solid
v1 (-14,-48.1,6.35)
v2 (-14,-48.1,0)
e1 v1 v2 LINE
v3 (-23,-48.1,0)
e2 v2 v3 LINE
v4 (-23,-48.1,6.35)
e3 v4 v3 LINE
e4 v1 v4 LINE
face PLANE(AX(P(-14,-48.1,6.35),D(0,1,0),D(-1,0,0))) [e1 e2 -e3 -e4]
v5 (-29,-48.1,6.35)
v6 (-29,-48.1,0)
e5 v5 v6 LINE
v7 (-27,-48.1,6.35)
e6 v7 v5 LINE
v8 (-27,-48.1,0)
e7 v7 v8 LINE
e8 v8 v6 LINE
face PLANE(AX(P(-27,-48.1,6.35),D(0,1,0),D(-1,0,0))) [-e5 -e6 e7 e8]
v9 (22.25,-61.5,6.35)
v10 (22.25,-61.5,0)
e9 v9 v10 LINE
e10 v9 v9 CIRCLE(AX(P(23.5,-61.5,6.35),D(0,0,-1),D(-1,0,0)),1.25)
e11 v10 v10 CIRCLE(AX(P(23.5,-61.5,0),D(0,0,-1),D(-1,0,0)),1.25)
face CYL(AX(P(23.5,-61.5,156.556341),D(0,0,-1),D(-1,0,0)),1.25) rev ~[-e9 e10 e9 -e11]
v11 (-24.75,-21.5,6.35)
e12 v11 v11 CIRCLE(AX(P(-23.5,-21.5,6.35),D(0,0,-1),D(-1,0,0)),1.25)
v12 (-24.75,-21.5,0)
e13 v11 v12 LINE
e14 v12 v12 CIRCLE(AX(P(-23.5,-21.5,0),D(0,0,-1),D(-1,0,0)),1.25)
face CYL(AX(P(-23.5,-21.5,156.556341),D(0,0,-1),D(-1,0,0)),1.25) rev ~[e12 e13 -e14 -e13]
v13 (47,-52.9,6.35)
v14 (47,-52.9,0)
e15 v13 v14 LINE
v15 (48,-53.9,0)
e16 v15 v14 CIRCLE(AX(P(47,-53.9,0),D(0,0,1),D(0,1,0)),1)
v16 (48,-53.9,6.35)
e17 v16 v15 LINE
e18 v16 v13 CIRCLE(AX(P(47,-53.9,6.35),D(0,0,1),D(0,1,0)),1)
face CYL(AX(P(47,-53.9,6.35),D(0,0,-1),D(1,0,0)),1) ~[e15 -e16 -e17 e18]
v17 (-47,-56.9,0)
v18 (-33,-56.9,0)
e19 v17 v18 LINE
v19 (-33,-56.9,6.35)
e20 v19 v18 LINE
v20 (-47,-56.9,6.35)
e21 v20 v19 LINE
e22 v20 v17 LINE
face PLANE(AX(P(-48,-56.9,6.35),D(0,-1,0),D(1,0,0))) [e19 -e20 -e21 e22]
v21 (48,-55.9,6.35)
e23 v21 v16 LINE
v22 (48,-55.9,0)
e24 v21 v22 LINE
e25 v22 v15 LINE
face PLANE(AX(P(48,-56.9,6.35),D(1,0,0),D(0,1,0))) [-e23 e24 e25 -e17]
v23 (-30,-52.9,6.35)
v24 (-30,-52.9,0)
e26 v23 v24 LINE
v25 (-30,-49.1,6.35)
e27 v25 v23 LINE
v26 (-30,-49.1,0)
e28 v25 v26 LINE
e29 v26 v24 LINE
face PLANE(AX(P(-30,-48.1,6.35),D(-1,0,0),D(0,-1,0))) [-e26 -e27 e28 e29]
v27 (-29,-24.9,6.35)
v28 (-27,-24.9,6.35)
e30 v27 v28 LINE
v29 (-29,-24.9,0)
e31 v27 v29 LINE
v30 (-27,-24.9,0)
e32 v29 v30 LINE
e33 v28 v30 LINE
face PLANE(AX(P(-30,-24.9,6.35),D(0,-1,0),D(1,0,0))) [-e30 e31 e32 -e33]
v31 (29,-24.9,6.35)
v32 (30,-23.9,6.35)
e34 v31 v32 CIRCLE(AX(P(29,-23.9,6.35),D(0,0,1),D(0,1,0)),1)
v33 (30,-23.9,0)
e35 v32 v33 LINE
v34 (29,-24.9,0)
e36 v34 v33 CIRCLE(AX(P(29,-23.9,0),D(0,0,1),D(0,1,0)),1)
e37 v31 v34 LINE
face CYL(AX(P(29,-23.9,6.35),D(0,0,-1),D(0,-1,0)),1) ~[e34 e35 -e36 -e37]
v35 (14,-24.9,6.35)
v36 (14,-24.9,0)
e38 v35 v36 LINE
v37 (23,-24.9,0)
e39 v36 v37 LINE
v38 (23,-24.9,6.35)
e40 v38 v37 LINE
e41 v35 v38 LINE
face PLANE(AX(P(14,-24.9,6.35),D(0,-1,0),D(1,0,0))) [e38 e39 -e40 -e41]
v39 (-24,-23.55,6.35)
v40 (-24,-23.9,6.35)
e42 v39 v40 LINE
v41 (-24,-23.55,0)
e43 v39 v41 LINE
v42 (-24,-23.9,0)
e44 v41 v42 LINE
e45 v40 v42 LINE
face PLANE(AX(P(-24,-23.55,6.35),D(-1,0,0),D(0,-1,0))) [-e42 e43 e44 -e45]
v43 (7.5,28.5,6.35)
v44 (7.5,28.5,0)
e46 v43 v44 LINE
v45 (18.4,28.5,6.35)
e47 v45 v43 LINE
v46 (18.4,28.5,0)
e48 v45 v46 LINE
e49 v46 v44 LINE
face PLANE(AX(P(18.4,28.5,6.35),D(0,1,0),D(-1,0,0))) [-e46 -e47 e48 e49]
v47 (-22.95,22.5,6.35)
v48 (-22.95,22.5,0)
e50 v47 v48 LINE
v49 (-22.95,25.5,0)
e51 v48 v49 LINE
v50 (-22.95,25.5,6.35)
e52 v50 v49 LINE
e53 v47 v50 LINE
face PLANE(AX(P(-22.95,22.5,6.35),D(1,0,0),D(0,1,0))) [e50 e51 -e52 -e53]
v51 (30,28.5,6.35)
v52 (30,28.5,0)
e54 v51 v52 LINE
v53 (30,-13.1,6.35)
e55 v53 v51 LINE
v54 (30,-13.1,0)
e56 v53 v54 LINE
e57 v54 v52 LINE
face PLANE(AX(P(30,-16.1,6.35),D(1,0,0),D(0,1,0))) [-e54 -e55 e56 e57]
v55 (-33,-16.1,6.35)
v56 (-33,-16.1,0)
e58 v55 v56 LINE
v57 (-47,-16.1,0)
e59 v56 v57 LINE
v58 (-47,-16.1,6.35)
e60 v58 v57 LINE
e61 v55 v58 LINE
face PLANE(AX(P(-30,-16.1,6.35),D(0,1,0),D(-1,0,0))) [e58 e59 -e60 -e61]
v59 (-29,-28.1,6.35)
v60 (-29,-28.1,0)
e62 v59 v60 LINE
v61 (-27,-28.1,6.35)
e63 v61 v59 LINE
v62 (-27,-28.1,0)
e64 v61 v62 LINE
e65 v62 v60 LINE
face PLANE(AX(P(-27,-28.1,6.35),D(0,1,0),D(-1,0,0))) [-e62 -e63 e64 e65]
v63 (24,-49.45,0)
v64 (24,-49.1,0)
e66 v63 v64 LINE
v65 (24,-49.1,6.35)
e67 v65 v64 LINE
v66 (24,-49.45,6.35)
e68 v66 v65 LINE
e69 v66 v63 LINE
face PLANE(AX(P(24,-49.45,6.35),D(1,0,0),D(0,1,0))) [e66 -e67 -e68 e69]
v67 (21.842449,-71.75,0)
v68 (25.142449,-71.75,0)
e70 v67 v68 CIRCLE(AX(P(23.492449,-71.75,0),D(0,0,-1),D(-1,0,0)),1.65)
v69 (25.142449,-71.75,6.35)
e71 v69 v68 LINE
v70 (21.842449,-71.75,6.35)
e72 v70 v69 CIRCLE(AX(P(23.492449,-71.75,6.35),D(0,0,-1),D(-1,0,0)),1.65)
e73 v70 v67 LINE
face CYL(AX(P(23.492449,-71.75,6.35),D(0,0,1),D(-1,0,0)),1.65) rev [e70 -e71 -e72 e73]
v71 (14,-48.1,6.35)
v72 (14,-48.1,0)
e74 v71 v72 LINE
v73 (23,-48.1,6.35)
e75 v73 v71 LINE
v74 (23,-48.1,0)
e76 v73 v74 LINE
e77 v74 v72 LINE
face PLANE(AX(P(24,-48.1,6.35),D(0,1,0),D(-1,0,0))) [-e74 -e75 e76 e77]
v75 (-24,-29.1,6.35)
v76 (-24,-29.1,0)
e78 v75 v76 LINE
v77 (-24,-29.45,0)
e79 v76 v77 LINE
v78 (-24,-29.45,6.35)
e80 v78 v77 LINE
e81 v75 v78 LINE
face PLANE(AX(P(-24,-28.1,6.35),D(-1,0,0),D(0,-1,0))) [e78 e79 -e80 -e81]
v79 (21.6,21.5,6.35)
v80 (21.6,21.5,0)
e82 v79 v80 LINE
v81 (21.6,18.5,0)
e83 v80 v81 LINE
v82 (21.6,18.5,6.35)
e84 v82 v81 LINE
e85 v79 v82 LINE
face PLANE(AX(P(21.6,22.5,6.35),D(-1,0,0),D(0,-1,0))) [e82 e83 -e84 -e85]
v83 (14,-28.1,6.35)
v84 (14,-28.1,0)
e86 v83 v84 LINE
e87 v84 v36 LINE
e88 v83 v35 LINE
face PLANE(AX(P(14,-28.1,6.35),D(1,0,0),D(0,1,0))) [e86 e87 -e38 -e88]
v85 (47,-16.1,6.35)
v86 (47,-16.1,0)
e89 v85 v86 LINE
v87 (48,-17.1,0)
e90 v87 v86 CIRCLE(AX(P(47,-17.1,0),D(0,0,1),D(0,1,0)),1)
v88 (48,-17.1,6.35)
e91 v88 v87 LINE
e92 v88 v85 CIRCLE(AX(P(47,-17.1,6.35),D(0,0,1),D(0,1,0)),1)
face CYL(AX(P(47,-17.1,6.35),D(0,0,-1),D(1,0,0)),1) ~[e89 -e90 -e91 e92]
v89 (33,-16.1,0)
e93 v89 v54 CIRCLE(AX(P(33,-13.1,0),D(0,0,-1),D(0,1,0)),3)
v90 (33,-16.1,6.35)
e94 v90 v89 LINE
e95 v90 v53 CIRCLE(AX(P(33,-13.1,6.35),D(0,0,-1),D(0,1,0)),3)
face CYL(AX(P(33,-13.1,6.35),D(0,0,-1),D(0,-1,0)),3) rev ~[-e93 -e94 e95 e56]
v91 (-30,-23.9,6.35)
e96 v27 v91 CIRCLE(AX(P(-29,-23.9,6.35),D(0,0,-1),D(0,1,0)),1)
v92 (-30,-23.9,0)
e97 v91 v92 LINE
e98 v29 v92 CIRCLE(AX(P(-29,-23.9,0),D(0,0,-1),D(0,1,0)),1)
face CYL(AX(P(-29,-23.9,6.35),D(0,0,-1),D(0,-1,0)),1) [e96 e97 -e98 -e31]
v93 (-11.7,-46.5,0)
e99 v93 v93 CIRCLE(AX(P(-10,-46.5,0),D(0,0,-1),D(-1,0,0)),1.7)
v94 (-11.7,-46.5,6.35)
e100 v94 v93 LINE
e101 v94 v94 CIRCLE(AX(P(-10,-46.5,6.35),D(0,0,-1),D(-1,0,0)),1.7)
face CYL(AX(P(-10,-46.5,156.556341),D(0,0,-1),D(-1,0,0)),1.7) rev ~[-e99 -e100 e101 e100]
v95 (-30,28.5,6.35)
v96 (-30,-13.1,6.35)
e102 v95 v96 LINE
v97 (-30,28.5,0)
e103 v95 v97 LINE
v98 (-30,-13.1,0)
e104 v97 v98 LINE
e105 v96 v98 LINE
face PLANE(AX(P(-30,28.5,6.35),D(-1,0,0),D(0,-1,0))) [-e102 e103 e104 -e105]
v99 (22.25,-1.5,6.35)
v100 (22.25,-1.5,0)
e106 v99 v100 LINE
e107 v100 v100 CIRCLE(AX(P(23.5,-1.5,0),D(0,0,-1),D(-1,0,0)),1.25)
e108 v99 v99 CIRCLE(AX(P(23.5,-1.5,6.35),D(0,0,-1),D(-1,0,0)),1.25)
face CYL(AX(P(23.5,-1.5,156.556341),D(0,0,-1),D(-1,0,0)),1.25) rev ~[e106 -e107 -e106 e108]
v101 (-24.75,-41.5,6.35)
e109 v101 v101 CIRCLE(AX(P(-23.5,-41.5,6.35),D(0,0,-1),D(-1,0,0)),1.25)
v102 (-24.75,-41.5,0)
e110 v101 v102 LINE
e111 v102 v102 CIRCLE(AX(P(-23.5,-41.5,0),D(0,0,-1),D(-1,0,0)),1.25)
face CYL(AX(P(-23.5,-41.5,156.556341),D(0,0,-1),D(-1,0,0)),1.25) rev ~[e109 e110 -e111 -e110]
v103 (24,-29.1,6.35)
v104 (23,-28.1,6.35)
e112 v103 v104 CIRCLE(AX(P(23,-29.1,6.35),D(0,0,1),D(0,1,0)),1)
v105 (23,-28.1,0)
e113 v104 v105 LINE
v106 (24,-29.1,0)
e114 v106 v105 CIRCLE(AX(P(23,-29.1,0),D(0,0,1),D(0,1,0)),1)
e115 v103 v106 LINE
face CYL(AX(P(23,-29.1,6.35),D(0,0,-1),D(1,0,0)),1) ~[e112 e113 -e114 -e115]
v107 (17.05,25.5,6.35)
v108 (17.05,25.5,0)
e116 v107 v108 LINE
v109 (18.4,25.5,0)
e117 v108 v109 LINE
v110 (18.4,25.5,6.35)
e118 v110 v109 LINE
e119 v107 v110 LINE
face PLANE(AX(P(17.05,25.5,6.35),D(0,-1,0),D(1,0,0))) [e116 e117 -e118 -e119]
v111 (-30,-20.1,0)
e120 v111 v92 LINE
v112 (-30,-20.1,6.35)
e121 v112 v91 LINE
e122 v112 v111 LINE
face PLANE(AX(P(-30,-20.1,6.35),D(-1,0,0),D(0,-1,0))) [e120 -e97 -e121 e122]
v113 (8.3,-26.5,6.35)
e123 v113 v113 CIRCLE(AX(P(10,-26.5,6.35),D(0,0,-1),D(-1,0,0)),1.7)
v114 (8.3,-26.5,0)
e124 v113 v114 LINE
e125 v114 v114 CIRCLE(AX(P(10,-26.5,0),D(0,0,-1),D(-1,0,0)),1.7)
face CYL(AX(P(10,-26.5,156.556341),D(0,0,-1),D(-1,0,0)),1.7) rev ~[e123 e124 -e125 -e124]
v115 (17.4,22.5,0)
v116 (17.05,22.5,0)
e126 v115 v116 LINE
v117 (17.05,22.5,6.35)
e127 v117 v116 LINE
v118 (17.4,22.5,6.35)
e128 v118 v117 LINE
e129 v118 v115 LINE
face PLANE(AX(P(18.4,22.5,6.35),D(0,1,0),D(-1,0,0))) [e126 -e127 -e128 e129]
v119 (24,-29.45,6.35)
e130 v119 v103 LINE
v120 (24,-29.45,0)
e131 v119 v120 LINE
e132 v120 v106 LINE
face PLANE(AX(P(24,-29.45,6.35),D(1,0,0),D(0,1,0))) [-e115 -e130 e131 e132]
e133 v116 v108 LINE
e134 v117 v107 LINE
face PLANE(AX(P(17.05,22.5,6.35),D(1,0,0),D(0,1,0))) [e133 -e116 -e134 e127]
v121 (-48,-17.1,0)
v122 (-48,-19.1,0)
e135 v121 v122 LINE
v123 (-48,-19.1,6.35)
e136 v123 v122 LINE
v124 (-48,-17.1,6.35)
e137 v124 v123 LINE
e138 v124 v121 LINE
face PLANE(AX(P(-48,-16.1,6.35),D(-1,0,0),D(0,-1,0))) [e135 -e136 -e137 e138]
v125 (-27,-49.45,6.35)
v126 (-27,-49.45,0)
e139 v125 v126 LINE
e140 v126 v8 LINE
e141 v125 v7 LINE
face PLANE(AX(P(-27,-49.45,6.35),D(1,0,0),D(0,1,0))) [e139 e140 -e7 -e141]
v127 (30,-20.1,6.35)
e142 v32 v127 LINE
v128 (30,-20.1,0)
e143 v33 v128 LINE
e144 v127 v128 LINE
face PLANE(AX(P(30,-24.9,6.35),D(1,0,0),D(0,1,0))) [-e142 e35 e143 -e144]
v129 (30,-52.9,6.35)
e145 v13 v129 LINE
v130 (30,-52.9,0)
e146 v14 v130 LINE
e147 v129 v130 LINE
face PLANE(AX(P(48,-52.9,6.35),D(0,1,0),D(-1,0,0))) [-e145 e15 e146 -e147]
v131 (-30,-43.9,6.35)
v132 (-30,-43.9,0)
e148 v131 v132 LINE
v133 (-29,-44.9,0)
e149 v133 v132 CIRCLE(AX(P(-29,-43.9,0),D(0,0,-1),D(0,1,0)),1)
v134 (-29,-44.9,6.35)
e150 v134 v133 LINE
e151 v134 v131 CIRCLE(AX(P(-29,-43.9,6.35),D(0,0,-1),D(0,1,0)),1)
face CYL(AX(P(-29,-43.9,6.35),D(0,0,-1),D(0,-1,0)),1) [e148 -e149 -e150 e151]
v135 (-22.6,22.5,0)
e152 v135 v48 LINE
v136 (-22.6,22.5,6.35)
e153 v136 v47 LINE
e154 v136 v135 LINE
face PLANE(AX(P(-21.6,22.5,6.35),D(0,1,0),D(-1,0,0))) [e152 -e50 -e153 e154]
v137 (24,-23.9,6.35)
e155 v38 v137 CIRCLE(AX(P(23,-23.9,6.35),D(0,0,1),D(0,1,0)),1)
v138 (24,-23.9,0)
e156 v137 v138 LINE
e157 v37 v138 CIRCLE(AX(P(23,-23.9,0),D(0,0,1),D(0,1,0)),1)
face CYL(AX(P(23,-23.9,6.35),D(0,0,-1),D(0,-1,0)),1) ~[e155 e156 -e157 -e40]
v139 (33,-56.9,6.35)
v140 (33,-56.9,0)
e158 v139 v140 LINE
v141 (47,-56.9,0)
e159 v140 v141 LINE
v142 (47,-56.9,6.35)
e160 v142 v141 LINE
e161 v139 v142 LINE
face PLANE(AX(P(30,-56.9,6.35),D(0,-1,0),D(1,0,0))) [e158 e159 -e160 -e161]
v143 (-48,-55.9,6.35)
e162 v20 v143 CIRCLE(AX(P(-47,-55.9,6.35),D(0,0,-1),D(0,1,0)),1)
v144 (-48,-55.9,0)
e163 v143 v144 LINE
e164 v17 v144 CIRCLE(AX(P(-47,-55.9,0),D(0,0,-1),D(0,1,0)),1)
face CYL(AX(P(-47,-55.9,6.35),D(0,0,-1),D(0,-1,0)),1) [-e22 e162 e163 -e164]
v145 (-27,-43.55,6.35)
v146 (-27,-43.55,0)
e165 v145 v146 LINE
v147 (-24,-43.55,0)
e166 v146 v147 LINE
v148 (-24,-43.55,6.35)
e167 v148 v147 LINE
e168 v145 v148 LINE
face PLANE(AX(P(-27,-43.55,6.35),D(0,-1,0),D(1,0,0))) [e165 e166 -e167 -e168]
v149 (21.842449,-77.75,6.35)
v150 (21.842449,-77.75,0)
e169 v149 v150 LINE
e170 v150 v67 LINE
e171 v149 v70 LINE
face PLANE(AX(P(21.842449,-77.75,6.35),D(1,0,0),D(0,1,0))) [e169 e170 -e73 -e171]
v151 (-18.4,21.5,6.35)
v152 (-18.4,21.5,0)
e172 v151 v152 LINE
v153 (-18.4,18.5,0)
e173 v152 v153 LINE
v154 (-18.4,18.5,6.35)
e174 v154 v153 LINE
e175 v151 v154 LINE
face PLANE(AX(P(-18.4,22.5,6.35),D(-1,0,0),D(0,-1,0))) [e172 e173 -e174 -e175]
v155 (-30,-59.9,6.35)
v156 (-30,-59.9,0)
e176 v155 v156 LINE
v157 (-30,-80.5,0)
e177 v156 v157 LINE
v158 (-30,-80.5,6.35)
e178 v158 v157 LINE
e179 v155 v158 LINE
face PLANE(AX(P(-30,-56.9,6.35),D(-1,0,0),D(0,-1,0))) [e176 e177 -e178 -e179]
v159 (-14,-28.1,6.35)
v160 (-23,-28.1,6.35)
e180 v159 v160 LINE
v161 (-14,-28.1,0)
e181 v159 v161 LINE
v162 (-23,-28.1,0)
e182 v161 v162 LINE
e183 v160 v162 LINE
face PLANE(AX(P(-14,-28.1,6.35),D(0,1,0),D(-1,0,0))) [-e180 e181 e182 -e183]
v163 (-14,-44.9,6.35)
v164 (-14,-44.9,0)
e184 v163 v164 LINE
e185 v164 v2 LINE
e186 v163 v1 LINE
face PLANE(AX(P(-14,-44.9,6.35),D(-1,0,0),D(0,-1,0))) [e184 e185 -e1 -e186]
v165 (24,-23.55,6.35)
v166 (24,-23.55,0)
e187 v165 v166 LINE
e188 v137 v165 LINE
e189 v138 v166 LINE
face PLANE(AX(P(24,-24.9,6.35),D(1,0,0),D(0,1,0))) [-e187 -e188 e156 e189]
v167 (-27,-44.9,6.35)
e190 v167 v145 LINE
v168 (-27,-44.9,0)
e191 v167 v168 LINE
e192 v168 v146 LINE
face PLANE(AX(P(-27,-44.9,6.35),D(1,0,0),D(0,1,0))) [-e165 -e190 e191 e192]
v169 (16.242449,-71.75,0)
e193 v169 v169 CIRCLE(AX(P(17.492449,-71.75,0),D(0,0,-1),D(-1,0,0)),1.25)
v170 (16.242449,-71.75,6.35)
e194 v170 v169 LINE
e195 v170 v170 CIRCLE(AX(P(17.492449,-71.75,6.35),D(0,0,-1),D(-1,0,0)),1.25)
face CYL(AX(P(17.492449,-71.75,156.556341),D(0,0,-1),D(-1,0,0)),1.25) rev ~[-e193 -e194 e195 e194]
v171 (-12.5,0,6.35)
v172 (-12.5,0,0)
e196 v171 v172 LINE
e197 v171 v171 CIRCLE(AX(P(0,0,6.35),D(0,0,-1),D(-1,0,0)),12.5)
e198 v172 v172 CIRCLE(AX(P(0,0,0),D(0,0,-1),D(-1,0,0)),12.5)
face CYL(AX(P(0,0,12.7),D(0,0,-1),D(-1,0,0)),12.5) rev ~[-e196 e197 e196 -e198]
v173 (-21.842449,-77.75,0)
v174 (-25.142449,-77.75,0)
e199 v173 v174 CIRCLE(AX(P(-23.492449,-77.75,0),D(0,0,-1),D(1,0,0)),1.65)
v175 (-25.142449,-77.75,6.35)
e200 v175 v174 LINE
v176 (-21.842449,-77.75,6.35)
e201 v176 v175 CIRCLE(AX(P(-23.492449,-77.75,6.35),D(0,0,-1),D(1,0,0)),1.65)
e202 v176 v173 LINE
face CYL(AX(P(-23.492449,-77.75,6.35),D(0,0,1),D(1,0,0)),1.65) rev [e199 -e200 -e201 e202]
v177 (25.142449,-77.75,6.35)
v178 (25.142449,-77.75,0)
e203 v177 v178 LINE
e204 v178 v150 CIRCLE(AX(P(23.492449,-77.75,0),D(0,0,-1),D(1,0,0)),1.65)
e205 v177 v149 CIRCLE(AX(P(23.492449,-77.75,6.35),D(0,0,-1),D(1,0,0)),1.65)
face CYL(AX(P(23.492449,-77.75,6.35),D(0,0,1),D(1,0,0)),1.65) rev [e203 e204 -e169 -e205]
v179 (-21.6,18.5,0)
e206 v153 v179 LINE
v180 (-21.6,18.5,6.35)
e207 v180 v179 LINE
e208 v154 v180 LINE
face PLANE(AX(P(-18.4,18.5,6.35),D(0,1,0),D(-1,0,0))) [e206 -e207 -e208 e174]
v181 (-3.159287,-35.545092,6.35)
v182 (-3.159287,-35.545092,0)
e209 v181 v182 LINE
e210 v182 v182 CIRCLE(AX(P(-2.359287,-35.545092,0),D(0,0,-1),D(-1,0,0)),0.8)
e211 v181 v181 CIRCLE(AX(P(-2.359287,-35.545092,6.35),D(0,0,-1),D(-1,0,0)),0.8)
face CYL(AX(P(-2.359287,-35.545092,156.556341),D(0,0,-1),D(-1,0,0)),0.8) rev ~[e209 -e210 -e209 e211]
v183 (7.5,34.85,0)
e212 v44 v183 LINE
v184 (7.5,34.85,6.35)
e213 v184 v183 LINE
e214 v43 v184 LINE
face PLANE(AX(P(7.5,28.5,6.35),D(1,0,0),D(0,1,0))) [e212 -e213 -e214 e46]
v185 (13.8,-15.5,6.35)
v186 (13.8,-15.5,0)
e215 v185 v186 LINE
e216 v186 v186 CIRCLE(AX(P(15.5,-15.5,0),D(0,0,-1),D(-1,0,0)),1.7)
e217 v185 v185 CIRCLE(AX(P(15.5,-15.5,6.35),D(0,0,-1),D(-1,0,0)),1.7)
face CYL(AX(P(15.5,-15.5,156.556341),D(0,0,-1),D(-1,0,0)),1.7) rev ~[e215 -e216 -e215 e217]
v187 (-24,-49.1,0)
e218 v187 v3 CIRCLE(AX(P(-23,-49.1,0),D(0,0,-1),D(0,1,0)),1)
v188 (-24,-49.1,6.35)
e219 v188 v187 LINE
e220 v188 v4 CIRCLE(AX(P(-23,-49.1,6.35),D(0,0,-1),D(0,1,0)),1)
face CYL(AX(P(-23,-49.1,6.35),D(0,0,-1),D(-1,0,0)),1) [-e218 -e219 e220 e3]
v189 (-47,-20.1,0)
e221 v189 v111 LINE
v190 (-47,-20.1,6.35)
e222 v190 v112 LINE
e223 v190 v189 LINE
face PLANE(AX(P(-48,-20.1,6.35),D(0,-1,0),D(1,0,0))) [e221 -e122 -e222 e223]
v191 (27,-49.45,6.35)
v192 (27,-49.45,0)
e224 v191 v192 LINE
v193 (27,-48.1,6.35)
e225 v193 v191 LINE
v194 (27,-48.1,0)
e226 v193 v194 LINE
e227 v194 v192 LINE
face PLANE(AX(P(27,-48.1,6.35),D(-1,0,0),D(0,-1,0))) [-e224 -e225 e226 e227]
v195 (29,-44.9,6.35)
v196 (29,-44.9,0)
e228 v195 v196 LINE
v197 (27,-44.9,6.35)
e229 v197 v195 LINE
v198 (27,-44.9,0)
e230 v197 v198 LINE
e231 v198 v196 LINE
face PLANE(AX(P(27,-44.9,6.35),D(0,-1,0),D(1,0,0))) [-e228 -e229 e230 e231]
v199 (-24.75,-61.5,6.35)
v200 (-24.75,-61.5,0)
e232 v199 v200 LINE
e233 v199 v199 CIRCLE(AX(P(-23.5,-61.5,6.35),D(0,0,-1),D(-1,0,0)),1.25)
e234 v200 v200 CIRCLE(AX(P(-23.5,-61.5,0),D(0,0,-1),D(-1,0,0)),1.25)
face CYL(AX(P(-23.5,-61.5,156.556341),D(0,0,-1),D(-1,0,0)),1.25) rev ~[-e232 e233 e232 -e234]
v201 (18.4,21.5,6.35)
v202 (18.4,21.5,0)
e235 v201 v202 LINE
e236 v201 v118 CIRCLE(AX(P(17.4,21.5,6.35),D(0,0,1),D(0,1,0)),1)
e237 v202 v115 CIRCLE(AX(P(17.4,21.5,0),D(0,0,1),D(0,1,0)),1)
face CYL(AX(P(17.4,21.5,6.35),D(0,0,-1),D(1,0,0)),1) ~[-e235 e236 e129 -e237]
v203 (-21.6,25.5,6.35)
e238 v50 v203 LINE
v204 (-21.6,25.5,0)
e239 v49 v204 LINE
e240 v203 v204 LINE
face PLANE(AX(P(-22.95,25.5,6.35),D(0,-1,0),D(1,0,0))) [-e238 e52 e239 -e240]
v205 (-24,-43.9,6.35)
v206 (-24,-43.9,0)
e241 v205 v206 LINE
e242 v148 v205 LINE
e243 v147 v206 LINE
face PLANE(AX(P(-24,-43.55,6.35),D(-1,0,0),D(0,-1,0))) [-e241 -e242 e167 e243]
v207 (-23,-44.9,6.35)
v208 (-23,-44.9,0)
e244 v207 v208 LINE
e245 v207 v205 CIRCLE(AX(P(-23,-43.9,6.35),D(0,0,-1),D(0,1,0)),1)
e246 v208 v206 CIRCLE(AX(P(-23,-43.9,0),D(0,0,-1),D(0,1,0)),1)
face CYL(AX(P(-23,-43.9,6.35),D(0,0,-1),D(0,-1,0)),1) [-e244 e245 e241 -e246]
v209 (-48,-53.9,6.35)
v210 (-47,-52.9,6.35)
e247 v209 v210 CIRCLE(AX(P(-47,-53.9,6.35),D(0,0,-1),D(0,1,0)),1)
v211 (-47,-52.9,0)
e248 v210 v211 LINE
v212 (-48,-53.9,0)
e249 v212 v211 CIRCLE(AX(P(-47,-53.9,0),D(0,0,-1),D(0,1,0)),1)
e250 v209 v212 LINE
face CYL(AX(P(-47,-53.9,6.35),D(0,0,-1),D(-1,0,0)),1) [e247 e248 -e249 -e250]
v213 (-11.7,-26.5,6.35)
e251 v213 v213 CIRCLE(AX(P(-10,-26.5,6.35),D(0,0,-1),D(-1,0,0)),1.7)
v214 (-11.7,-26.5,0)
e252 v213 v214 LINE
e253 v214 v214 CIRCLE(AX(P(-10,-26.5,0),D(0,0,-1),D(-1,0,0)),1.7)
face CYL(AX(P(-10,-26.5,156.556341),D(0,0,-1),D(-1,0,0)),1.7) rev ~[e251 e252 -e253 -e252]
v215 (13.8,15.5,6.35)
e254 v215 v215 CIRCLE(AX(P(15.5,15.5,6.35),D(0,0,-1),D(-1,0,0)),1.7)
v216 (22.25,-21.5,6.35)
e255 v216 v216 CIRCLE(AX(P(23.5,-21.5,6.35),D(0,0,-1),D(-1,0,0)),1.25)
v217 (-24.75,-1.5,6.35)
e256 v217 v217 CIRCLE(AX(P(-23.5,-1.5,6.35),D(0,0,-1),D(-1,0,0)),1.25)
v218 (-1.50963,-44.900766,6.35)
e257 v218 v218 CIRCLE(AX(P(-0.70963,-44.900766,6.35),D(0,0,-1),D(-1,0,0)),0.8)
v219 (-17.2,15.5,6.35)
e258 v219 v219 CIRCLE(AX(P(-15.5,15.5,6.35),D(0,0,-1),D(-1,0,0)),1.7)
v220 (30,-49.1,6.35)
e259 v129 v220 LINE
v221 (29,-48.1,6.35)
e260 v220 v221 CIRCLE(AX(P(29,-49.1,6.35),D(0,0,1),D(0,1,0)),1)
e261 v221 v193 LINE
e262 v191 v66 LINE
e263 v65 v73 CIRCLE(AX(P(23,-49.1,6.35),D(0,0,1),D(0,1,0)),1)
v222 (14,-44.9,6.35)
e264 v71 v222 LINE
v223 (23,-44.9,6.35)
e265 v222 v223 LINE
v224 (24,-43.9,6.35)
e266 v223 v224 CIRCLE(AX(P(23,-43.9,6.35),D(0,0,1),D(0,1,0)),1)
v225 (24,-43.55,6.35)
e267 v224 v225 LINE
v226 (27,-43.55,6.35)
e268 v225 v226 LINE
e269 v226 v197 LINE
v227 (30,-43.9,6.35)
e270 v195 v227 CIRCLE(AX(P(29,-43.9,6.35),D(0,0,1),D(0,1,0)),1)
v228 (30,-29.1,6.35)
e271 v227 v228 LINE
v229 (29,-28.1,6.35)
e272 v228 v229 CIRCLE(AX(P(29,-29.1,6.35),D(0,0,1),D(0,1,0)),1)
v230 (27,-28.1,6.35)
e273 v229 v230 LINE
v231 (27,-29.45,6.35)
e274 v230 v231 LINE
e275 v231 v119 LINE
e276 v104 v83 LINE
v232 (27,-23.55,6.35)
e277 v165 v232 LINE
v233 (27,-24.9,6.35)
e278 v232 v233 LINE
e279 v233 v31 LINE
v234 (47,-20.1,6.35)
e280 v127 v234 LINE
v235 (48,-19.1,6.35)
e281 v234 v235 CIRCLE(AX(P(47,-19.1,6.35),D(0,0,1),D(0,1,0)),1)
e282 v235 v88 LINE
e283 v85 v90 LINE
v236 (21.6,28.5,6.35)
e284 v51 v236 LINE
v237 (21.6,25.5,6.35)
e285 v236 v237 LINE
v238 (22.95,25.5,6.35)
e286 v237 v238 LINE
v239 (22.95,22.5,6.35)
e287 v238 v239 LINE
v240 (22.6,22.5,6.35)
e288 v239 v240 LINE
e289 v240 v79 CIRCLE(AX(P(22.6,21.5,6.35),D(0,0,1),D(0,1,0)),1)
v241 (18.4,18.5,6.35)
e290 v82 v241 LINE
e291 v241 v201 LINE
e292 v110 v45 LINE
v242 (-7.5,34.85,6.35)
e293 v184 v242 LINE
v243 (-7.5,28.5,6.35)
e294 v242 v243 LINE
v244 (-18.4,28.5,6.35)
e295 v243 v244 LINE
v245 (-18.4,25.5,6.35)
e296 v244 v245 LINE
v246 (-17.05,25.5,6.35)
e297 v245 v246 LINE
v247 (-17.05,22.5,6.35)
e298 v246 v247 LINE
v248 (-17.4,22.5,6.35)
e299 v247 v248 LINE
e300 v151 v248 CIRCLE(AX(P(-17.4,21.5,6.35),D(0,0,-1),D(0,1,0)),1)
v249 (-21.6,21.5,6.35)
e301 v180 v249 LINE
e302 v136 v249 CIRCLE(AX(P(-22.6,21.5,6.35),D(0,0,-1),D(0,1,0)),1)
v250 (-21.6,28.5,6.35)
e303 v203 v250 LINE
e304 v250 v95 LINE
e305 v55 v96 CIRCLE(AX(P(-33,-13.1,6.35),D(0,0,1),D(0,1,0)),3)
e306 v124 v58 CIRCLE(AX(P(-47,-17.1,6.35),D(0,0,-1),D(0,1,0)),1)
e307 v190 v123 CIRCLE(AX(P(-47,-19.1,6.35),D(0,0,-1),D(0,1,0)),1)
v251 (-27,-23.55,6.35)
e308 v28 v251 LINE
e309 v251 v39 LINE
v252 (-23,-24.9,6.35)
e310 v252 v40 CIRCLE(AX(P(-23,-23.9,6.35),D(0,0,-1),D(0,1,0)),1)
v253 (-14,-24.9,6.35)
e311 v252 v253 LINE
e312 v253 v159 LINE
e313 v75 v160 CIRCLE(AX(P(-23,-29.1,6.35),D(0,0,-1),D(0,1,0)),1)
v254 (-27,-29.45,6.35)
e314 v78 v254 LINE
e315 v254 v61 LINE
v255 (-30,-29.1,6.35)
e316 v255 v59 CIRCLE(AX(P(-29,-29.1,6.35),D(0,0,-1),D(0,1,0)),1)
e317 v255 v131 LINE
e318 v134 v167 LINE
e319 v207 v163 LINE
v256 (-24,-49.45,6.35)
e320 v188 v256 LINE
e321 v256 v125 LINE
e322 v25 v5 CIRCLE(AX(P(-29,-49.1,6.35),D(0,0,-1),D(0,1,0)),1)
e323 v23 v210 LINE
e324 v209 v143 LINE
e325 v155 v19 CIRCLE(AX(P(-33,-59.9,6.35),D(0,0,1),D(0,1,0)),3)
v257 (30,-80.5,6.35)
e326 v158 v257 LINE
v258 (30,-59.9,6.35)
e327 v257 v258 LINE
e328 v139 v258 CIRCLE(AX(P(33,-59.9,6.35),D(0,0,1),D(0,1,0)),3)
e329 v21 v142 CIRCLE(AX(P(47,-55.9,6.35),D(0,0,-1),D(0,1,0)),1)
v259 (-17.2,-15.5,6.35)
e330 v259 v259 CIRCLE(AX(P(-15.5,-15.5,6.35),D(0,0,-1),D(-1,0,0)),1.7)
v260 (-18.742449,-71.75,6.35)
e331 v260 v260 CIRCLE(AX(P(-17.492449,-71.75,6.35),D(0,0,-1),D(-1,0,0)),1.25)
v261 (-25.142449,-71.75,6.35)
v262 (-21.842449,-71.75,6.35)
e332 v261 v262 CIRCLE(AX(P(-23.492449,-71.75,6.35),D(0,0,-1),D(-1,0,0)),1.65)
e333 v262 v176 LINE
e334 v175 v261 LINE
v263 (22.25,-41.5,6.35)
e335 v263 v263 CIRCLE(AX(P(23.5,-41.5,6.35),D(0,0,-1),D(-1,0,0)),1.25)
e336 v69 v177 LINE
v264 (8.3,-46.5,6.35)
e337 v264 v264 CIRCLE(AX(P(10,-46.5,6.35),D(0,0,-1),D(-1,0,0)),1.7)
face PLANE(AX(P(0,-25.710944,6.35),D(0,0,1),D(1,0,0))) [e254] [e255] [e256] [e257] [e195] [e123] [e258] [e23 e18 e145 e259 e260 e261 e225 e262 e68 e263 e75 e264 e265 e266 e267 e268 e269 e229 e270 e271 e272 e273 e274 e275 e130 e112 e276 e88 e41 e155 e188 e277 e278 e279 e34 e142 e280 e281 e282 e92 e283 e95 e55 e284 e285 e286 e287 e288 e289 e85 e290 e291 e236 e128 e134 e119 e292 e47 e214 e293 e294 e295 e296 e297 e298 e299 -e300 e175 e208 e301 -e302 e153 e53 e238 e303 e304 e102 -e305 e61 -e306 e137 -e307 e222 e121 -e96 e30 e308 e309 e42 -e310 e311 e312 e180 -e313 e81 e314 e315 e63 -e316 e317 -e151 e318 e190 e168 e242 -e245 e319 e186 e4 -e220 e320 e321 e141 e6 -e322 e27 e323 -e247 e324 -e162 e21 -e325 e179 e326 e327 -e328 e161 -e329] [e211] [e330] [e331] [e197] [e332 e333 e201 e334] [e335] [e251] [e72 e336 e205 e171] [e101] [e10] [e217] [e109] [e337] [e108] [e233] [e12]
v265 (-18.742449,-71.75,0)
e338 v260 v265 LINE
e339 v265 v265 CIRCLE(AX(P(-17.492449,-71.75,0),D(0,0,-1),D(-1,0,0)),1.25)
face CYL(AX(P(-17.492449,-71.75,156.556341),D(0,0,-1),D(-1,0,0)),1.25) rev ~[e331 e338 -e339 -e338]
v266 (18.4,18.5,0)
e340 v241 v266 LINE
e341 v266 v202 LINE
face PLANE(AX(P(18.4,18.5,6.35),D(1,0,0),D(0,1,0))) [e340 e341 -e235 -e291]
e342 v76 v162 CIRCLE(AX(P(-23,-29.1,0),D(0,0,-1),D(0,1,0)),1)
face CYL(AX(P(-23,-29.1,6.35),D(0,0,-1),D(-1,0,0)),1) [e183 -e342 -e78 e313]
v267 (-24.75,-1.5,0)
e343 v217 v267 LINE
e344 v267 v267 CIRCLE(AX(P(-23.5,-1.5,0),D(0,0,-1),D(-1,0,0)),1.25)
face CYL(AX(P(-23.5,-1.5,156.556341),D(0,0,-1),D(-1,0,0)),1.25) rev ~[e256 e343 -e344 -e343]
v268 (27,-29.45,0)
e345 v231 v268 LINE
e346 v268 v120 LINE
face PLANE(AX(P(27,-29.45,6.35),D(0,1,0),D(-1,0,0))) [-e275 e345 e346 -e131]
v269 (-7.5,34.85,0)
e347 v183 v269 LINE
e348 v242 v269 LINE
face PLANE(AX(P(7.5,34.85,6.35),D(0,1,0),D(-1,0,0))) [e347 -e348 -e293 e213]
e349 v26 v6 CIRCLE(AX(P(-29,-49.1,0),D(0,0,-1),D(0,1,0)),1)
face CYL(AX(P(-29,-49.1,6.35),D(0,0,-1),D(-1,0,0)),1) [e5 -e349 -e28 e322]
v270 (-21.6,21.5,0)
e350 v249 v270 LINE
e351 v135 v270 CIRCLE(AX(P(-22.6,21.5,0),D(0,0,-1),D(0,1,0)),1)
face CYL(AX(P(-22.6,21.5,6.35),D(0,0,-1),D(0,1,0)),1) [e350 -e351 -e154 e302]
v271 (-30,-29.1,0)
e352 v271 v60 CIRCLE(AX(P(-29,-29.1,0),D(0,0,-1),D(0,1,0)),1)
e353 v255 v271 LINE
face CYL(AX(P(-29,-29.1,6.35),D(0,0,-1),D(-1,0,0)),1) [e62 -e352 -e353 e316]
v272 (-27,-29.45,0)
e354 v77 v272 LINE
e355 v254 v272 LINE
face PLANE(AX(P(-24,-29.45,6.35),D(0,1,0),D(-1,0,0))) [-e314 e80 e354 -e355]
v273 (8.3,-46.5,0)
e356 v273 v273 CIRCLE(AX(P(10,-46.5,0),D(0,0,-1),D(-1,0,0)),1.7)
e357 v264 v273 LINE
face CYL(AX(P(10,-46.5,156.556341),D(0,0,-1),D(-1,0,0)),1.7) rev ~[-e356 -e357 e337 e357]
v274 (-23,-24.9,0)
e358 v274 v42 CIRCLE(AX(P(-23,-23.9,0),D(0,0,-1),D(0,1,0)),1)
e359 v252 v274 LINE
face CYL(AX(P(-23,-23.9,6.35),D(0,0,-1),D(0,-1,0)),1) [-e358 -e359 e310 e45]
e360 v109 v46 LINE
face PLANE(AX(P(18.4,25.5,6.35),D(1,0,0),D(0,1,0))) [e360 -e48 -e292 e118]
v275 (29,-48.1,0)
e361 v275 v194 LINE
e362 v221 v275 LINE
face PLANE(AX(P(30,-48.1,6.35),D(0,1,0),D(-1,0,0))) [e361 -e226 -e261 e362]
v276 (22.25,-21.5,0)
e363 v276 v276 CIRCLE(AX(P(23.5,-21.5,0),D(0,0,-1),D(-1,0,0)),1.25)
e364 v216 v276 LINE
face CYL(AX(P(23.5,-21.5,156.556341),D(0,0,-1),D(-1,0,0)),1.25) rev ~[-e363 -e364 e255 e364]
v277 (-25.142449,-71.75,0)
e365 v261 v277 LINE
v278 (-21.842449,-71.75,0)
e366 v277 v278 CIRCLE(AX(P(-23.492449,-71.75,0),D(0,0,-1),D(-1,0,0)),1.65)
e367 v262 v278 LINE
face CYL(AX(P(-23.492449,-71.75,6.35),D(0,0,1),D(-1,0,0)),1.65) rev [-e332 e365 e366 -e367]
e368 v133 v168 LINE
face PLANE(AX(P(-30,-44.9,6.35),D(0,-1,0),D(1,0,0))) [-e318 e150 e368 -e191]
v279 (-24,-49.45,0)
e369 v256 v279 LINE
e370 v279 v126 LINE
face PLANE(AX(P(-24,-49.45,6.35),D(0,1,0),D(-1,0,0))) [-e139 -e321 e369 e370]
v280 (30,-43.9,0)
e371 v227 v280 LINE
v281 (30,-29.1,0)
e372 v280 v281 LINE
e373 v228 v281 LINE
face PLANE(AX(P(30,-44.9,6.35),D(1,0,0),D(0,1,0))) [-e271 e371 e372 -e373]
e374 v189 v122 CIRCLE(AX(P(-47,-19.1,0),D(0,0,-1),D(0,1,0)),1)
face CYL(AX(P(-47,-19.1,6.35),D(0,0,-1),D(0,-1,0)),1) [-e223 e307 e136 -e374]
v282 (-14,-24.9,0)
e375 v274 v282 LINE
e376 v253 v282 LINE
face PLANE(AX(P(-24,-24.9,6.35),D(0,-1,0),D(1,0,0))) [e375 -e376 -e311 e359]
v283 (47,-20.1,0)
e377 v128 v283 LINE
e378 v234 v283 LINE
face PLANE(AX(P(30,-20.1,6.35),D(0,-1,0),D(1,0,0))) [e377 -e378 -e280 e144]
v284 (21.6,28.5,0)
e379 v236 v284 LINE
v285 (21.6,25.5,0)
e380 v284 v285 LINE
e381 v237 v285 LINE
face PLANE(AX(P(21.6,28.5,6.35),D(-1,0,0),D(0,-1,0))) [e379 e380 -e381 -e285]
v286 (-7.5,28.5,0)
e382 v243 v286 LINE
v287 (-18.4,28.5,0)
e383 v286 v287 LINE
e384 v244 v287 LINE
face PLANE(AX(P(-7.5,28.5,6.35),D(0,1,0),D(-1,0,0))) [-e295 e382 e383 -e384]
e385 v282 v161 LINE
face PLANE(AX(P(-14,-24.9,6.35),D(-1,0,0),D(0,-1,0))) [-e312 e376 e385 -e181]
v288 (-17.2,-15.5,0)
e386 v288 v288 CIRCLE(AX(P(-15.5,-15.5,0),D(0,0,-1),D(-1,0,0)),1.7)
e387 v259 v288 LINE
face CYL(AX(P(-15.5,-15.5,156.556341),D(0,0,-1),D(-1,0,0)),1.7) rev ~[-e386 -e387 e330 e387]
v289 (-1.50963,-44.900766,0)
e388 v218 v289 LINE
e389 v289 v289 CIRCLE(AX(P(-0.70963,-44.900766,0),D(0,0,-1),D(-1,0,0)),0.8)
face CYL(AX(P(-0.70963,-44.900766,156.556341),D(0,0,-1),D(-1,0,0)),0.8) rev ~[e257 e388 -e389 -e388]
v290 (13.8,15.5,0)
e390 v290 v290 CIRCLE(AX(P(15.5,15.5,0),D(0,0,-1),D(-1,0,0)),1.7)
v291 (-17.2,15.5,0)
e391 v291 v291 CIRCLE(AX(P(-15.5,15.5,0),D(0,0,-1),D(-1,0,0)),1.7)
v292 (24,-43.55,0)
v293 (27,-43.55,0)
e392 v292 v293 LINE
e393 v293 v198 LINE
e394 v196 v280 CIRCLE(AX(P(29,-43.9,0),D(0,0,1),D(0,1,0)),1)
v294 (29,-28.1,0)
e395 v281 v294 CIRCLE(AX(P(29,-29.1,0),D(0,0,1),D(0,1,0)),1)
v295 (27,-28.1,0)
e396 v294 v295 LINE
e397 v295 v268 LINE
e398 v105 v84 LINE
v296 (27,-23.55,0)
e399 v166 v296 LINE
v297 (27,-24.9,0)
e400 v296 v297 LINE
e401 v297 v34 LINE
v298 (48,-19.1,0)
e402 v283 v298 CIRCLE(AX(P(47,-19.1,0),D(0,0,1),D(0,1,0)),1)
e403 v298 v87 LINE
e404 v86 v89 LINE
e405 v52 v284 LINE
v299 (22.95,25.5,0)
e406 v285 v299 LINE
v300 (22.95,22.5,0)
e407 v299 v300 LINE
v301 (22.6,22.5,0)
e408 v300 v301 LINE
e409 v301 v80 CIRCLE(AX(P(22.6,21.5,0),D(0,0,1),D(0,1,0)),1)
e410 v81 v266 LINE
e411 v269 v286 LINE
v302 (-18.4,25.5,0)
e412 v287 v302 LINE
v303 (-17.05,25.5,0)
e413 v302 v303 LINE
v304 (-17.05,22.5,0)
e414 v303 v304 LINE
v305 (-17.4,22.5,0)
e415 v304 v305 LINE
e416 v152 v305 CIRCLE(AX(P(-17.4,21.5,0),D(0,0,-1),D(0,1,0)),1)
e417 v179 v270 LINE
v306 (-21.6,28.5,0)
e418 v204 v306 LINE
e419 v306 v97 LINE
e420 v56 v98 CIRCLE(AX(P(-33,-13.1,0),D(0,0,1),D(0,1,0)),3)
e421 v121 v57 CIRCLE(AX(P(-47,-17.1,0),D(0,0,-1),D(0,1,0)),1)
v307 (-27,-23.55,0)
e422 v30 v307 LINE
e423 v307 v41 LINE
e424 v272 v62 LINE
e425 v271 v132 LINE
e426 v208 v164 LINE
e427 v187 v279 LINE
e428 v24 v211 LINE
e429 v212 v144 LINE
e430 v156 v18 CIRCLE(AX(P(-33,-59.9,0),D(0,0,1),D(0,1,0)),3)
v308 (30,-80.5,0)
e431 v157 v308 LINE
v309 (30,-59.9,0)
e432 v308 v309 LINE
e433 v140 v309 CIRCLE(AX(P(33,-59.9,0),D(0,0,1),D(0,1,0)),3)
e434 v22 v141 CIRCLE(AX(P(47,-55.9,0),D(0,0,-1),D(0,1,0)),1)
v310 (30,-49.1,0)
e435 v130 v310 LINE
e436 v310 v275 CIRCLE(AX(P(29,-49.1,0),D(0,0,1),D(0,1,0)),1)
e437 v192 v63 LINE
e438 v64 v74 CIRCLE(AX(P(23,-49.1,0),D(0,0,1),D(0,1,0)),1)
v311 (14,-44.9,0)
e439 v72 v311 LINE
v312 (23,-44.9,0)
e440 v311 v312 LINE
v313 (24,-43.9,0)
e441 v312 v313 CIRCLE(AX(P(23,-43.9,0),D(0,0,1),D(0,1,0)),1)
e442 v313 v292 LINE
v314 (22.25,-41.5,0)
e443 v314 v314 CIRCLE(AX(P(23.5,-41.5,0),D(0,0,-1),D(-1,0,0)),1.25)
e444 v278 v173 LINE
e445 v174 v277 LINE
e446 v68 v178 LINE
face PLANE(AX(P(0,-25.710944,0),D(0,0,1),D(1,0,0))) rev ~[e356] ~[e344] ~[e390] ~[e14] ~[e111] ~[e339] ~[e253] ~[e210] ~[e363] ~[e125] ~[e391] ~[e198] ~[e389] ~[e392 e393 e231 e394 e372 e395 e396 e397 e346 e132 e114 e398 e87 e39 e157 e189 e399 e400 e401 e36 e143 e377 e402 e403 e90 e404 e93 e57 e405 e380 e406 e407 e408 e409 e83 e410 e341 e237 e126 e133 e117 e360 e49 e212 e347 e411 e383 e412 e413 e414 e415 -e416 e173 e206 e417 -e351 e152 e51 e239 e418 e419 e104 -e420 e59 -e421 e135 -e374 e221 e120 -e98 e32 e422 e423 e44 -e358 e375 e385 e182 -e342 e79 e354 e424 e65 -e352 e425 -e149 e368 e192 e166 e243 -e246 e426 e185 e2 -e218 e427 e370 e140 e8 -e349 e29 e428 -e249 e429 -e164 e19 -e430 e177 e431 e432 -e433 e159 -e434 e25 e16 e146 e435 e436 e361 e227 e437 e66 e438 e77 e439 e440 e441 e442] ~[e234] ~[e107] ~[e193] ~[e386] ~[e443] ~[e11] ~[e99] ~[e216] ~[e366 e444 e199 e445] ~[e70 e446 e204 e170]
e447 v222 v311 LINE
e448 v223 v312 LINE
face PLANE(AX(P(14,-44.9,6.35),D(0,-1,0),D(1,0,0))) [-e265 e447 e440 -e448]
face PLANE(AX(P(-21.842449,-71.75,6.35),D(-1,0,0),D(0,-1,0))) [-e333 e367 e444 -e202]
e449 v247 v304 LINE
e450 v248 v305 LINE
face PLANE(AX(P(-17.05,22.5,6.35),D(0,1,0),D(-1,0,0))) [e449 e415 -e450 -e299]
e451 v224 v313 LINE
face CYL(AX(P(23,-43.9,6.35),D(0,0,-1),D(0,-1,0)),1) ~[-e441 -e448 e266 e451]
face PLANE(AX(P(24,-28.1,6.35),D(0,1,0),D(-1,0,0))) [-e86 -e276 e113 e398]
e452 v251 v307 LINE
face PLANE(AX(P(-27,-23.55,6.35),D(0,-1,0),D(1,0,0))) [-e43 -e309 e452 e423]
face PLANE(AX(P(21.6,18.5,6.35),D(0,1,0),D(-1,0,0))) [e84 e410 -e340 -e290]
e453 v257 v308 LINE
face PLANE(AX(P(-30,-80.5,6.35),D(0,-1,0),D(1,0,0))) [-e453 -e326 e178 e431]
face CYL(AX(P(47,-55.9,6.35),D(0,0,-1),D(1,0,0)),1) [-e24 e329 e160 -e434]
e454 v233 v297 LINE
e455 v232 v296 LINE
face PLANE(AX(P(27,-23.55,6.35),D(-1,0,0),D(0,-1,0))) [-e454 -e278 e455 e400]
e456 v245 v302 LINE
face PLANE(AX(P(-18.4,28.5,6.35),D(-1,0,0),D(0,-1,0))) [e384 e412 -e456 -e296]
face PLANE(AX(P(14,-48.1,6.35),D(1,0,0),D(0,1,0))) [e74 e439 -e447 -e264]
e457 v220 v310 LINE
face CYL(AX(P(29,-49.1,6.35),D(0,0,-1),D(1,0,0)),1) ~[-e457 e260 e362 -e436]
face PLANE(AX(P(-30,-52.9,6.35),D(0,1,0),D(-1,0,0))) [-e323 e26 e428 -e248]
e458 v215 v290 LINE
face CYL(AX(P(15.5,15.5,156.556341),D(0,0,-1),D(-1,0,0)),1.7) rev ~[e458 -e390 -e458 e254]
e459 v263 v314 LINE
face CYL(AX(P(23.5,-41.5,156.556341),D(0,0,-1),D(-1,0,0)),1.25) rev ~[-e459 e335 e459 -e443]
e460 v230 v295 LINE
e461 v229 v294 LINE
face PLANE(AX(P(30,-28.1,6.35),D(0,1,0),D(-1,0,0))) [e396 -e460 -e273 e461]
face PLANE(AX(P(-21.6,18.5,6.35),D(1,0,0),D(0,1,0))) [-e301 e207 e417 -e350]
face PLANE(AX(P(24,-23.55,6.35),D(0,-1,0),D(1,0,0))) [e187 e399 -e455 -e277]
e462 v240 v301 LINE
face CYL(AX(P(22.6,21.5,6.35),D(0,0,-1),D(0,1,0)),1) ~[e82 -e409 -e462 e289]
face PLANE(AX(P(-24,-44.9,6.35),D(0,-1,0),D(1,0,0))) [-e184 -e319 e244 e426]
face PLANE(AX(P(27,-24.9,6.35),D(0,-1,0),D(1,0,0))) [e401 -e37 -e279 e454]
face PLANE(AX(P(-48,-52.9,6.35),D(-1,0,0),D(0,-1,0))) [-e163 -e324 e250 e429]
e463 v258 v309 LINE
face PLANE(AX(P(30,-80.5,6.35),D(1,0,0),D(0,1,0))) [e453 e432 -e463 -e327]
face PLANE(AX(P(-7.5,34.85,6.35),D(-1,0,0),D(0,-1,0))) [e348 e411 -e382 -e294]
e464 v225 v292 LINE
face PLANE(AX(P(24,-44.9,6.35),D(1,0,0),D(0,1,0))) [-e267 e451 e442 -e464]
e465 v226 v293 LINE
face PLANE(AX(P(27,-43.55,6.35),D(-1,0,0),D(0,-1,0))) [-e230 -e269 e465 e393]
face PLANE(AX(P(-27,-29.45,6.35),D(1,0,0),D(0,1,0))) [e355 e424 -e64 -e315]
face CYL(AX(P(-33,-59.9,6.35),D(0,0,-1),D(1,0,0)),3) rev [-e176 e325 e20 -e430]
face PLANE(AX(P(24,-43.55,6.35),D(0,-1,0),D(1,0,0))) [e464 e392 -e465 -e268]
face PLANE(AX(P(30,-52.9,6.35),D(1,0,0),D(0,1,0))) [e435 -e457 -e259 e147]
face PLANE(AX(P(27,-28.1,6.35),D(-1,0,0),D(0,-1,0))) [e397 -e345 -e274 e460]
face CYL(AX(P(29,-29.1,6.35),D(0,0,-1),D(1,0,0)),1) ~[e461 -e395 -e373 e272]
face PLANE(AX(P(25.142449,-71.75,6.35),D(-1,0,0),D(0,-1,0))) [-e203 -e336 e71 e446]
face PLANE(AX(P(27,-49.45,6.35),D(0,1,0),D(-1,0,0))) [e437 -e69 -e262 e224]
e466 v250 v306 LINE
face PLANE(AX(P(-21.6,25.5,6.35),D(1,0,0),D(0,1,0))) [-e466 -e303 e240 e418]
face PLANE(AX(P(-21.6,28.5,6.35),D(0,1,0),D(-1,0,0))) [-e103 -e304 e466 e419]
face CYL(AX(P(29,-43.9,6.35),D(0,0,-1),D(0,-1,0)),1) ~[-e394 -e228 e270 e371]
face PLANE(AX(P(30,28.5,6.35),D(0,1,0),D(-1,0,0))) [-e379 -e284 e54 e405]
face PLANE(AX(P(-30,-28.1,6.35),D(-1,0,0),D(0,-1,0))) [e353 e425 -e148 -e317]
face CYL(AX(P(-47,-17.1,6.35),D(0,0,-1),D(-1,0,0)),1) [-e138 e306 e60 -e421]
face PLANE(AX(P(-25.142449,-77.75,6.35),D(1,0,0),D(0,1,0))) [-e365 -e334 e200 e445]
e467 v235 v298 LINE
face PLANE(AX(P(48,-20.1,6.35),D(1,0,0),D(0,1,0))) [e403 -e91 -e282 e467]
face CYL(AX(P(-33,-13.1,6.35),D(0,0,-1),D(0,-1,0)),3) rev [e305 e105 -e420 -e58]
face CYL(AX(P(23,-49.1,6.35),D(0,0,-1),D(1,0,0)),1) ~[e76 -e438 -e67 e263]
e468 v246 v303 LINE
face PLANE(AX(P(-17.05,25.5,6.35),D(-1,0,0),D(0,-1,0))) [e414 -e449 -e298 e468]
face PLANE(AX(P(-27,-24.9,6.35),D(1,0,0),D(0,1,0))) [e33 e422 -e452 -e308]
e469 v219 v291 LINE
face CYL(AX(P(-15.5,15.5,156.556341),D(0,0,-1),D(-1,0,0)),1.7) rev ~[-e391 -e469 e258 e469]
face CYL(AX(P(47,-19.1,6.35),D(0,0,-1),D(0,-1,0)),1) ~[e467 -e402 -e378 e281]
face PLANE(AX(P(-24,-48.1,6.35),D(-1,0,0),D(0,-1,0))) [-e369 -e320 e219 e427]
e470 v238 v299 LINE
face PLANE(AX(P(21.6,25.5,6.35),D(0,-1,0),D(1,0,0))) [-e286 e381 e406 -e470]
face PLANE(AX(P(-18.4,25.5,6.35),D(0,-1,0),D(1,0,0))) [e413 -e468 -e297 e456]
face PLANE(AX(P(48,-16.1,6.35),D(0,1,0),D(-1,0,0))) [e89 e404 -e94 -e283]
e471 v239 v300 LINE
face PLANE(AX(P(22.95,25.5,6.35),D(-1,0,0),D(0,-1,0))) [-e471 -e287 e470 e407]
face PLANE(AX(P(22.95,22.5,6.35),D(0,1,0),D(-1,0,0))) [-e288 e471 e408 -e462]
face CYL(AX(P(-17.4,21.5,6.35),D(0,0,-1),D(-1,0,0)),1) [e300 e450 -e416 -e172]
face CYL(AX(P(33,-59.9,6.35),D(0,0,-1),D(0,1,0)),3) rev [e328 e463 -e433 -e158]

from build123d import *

# Parameters (mm, degrees)
BOSS_EXTRUDE1_DEPTH            = 6.35
FILLET1_R                      = 1
FILLET3_R                      = 3
M2_TAPPED_HOLE1_D              = 1.6
M2_TAPPED_HOLE2_D              = 1.6
M3_CLEARANCE_HOLE1_D           = 3.4
M3_CLEARANCE_HOLE2_D           = 3.4
M3_CLEARANCE_HOLE3_D           = 3.4
M3_CLEARANCE_HOLE4_D           = 3.4
M3_TAPPED_HOLE2_D              = 2.5
M3_TAPPED_HOLE3_D              = 2.5
M3_TAPPED_HOLE4_D              = 2.5
M3_TAPPED_HOLE5_D              = 2.5
M3_TAPPED_HOLE6_D              = 2.5
M3_TAPPED_HOLE7_D              = 2.5
M3_TAPPED_HOLE8_D              = 2.5
M3_TAPPED_HOLE9_D              = 2.5
M3_TAPPED_HOLE10_D             = 2.5
M3_CLEARANCE_HOLE8_D           = 3.4
M3_CLEARANCE_HOLE7_D           = 3.4
M3_TAPPED_HOLE1_D              = 2.5
M3_CLEARANCE_HOLE6_D           = 3.4
F_25_0_25_DIAMETER_HOLE1_D     = 25
F_25_0_25_DIAMETER_HOLE1_DEPTH = 6.35
M3_CLEARANCE_HOLE5_D           = 3.4
FILLET4_R                      = 1


with BuildPart() as part:
    # Sketch1 → Boss-Extrude1 (new body)
    with BuildSketch(Plane.XY.offset(6.35)):
        Polygon((48, -56.9), (48, -52.9), (30, -52.9), (30, -48.1), (27, -48.1), (27, -49.45), (24, -49.45), (24, -48.1), (14, -48.1), (14, -44.9), (24, -44.9), (24, -43.55), (27, -43.55), (27, -44.9), (30, -44.9), (30, -28.1), (27, -28.1), (27, -29.45), (24, -29.45), (24, -28.1), (14, -28.1), (14, -24.9), (24, -24.9), (24, -23.55), (27, -23.55), (27, -24.9), (30, -24.9), (30, -20.1), (48, -20.1), (48, -16.1), (30, -16.1), (30, 28.5), (21.6, 28.5), (21.6, 25.5), (22.95, 25.5), (22.95, 22.5), (21.6, 22.5), (21.6, 18.5), (18.4, 18.5), (18.4, 22.5), (17.05, 22.5), (17.05, 25.5), (18.4, 25.5), (18.4, 28.5), (7.5, 28.5), (7.5, 34.85), (-7.5, 34.85), (-7.5, 28.5), (-18.4, 28.5), (-18.4, 25.5), (-17.05, 25.5), (-17.05, 22.5), (-18.4, 22.5), (-18.4, 18.5), (-21.6, 18.5), (-21.6, 22.5), (-22.95, 22.5), (-22.95, 25.5), (-21.6, 25.5), (-21.6, 28.5), (-30, 28.5), (-30, -16.1), (-48, -16.1), (-48, -20.1), (-30, -20.1), (-30, -24.9), (-27, -24.9), (-27, -23.55), (-24, -23.55), (-24, -24.9), (-14, -24.9), (-14, -28.1), (-24, -28.1), (-24, -29.45), (-27, -29.45), (-27, -28.1), (-30, -28.1), (-30, -44.9), (-27, -44.9), (-27, -43.55), (-24, -43.55), (-24, -44.9), (-14, -44.9), (-14, -48.1), (-24, -48.1), (-24, -49.45), (-27, -49.45), (-27, -48.1), (-30, -48.1), (-30, -52.9), (-48, -52.9), (-48, -56.9), (-30, -56.9), (-30, -80.5), (30, -80.5), (30, -56.9), align=None)
        with BuildLine():
            Line((-21.842448699, -71.75), (-21.842448699, -77.75))
            ThreePointArc((-21.842448699, -77.75), (-23.492448699, -79.4), (-25.142448699, -77.75))
            Line((-25.142448699, -77.75), (-25.142448699, -71.75))
            ThreePointArc((-25.142448699, -71.75), (-23.492448699, -70.1), (-21.842448699, -71.75))
        make_face(mode=Mode.SUBTRACT)
        with BuildLine():
            Line((21.842448699, -77.75), (21.842448699, -71.75))
            ThreePointArc((21.842448699, -71.75), (23.492448699, -70.1), (25.142448699, -71.75))
            Line((25.142448699, -71.75), (25.142448699, -77.75))
            ThreePointArc((25.142448699, -77.75), (23.492448699, -79.4), (21.842448699, -77.75))
        make_face(mode=Mode.SUBTRACT)
    extrude(amount=-BOSS_EXTRUDE1_DEPTH)

    # Fillet1
    fillet1_edges = [part.edges().sort_by_distance(p)[0] for p in [
        (-48, -56.9, 3.175),
        (-48, -52.9, 3.175),
        (-30, -48.1, 3.175),
        (-24, -48.1, 3.175),
        (-24, -44.9, 3.175),
        (-30, -44.9, 3.175),
        (-30, -28.1, 3.175),
        (-24, -28.1, 3.175),
        (-24, -24.9, 3.175),
        (-30, -24.9, 3.175),
        (-48, -20.1, 3.175),
        (-48, -16.1, 3.175),
        (48, -16.1, 3.175),
        (48, -20.1, 3.175),
        (30, -24.9, 3.175),
        (24, -24.9, 3.175),
        (24, -28.1, 3.175),
        (30, -28.1, 3.175),
        (30, -44.9, 3.175),
        (24, -44.9, 3.175),
        (24, -48.1, 3.175),
        (30, -48.1, 3.175),
        (48, -52.9, 3.175),
        (48, -56.9, 3.175),
    ]]
    fillet(fillet1_edges, radius=FILLET1_R)

    # Fillet3
    fillet3_edges = [part.edges().sort_by_distance(p)[0] for p in [
        (30, -56.9, 3.175),
        (-30, -56.9, 3.175),
        (-30, -16.1, 3.175),
        (30, -16.1, 3.175),
    ]]
    fillet(fillet3_edges, radius=FILLET3_R)

    # M2 Tapped Hole1 (through all)
    with Locations(Plane.XY.offset(6.35)):
        with Locations((-2.359287388, -35.545092005)):
            Hole(M2_TAPPED_HOLE1_D / 2)

    # M2 Tapped Hole2 (through all)
    with Locations(Plane.XY.offset(6.35)):
        with Locations((-0.7096297, -44.900765659)):
            Hole(M2_TAPPED_HOLE2_D / 2)

    # M3 Clearance Hole1 (through all)
    with Locations(Plane.XY.offset(6.35)):
        with Locations((15.5, 15.5)):
            Hole(M3_CLEARANCE_HOLE1_D / 2)

    # M3 Clearance Hole2 (through all)
    with Locations(Plane.XY.offset(6.35)):
        with Locations((-15.5, -15.5)):
            Hole(M3_CLEARANCE_HOLE2_D / 2)

    # M3 Clearance Hole3 (through all)
    with Locations(Plane.XY.offset(6.35)):
        with Locations((15.5, -15.5)):
            Hole(M3_CLEARANCE_HOLE3_D / 2)

    # M3 Clearance Hole4 (through all)
    with Locations(Plane.XY.offset(6.35)):
        with Locations((-15.5, 15.5)):
            Hole(M3_CLEARANCE_HOLE4_D / 2)

    # M3 Tapped Hole2 (through all)
    with Locations(Plane.XY.offset(6.35)):
        with Locations((23.5, -61.5)):
            Hole(M3_TAPPED_HOLE2_D / 2)

    # M3 Tapped Hole3 (through all)
    with Locations(Plane.XY.offset(6.35)):
        with Locations((23.5, -41.5)):
            Hole(M3_TAPPED_HOLE3_D / 2)

    # M3 Tapped Hole4 (through all)
    with Locations(Plane.XY.offset(6.35)):
        with Locations((23.5, -21.5)):
            Hole(M3_TAPPED_HOLE4_D / 2)

    # M3 Tapped Hole5 (through all)
    with Locations(Plane.XY.offset(6.35)):
        with Locations((23.5, -1.5)):
            Hole(M3_TAPPED_HOLE5_D / 2)

    # M3 Tapped Hole6 (through all)
    with Locations(Plane.XY.offset(6.35)):
        with Locations((-17.492448699, -71.75)):
            Hole(M3_TAPPED_HOLE6_D / 2)

    # M3 Tapped Hole7 (through all)
    with Locations(Plane.XY.offset(6.35)):
        with Locations((17.492448699, -71.75)):
            Hole(M3_TAPPED_HOLE7_D / 2)

    # M3 Tapped Hole8 (through all)
    with Locations(Plane.XY.offset(6.35)):
        with Locations((-23.5, -41.5)):
            Hole(M3_TAPPED_HOLE8_D / 2)

    # M3 Tapped Hole9 (through all)
    with Locations(Plane.XY.offset(6.35)):
        with Locations((-23.5, -61.5)):
            Hole(M3_TAPPED_HOLE9_D / 2)

    # M3 Tapped Hole10 (through all)
    with Locations(Plane.XY.offset(6.35)):
        with Locations((-23.5, -21.5)):
            Hole(M3_TAPPED_HOLE10_D / 2)

    # M3 Clearance Hole8 (through all)
    with Locations(Plane.XY.offset(6.35)):
        with Locations((-10, -46.5)):
            Hole(M3_CLEARANCE_HOLE8_D / 2)

    # M3 Clearance Hole7 (through all)
    with Locations(Plane.XY.offset(6.35)):
        with Locations((10, -46.5)):
            Hole(M3_CLEARANCE_HOLE7_D / 2)

    # M3 Tapped Hole1 (through all)
    with Locations(Plane.XY.offset(6.35)):
        with Locations((-23.5, -1.5)):
            Hole(M3_TAPPED_HOLE1_D / 2)

    # M3 Clearance Hole6 (through all)
    with Locations(Plane.XY.offset(6.35)):
        with Locations((10, -26.5)):
            Hole(M3_CLEARANCE_HOLE6_D / 2)

    # Ø25.0 (25) Diameter Hole1
    with Locations(Plane.XY.offset(6.35)):
        with Locations((0, 0)):
            Hole(F_25_0_25_DIAMETER_HOLE1_D / 2, depth=F_25_0_25_DIAMETER_HOLE1_DEPTH)

    # M3 Clearance Hole5 (through all)
    with Locations(Plane.XY.offset(6.35)):
        with Locations((-10, -26.5)):
            Hole(M3_CLEARANCE_HOLE5_D / 2)

    # Fillet4
    fillet4_edges = [part.edges().sort_by_distance(p)[0] for p in [
        (-21.6, 22.5, 3.175),
        (-18.4, 22.5, 3.175),
        (18.4, 22.5, 3.175),
        (21.6, 22.5, 3.175),
    ]]
    fillet(fillet4_edges, radius=FILLET4_R)


solid = part.part
